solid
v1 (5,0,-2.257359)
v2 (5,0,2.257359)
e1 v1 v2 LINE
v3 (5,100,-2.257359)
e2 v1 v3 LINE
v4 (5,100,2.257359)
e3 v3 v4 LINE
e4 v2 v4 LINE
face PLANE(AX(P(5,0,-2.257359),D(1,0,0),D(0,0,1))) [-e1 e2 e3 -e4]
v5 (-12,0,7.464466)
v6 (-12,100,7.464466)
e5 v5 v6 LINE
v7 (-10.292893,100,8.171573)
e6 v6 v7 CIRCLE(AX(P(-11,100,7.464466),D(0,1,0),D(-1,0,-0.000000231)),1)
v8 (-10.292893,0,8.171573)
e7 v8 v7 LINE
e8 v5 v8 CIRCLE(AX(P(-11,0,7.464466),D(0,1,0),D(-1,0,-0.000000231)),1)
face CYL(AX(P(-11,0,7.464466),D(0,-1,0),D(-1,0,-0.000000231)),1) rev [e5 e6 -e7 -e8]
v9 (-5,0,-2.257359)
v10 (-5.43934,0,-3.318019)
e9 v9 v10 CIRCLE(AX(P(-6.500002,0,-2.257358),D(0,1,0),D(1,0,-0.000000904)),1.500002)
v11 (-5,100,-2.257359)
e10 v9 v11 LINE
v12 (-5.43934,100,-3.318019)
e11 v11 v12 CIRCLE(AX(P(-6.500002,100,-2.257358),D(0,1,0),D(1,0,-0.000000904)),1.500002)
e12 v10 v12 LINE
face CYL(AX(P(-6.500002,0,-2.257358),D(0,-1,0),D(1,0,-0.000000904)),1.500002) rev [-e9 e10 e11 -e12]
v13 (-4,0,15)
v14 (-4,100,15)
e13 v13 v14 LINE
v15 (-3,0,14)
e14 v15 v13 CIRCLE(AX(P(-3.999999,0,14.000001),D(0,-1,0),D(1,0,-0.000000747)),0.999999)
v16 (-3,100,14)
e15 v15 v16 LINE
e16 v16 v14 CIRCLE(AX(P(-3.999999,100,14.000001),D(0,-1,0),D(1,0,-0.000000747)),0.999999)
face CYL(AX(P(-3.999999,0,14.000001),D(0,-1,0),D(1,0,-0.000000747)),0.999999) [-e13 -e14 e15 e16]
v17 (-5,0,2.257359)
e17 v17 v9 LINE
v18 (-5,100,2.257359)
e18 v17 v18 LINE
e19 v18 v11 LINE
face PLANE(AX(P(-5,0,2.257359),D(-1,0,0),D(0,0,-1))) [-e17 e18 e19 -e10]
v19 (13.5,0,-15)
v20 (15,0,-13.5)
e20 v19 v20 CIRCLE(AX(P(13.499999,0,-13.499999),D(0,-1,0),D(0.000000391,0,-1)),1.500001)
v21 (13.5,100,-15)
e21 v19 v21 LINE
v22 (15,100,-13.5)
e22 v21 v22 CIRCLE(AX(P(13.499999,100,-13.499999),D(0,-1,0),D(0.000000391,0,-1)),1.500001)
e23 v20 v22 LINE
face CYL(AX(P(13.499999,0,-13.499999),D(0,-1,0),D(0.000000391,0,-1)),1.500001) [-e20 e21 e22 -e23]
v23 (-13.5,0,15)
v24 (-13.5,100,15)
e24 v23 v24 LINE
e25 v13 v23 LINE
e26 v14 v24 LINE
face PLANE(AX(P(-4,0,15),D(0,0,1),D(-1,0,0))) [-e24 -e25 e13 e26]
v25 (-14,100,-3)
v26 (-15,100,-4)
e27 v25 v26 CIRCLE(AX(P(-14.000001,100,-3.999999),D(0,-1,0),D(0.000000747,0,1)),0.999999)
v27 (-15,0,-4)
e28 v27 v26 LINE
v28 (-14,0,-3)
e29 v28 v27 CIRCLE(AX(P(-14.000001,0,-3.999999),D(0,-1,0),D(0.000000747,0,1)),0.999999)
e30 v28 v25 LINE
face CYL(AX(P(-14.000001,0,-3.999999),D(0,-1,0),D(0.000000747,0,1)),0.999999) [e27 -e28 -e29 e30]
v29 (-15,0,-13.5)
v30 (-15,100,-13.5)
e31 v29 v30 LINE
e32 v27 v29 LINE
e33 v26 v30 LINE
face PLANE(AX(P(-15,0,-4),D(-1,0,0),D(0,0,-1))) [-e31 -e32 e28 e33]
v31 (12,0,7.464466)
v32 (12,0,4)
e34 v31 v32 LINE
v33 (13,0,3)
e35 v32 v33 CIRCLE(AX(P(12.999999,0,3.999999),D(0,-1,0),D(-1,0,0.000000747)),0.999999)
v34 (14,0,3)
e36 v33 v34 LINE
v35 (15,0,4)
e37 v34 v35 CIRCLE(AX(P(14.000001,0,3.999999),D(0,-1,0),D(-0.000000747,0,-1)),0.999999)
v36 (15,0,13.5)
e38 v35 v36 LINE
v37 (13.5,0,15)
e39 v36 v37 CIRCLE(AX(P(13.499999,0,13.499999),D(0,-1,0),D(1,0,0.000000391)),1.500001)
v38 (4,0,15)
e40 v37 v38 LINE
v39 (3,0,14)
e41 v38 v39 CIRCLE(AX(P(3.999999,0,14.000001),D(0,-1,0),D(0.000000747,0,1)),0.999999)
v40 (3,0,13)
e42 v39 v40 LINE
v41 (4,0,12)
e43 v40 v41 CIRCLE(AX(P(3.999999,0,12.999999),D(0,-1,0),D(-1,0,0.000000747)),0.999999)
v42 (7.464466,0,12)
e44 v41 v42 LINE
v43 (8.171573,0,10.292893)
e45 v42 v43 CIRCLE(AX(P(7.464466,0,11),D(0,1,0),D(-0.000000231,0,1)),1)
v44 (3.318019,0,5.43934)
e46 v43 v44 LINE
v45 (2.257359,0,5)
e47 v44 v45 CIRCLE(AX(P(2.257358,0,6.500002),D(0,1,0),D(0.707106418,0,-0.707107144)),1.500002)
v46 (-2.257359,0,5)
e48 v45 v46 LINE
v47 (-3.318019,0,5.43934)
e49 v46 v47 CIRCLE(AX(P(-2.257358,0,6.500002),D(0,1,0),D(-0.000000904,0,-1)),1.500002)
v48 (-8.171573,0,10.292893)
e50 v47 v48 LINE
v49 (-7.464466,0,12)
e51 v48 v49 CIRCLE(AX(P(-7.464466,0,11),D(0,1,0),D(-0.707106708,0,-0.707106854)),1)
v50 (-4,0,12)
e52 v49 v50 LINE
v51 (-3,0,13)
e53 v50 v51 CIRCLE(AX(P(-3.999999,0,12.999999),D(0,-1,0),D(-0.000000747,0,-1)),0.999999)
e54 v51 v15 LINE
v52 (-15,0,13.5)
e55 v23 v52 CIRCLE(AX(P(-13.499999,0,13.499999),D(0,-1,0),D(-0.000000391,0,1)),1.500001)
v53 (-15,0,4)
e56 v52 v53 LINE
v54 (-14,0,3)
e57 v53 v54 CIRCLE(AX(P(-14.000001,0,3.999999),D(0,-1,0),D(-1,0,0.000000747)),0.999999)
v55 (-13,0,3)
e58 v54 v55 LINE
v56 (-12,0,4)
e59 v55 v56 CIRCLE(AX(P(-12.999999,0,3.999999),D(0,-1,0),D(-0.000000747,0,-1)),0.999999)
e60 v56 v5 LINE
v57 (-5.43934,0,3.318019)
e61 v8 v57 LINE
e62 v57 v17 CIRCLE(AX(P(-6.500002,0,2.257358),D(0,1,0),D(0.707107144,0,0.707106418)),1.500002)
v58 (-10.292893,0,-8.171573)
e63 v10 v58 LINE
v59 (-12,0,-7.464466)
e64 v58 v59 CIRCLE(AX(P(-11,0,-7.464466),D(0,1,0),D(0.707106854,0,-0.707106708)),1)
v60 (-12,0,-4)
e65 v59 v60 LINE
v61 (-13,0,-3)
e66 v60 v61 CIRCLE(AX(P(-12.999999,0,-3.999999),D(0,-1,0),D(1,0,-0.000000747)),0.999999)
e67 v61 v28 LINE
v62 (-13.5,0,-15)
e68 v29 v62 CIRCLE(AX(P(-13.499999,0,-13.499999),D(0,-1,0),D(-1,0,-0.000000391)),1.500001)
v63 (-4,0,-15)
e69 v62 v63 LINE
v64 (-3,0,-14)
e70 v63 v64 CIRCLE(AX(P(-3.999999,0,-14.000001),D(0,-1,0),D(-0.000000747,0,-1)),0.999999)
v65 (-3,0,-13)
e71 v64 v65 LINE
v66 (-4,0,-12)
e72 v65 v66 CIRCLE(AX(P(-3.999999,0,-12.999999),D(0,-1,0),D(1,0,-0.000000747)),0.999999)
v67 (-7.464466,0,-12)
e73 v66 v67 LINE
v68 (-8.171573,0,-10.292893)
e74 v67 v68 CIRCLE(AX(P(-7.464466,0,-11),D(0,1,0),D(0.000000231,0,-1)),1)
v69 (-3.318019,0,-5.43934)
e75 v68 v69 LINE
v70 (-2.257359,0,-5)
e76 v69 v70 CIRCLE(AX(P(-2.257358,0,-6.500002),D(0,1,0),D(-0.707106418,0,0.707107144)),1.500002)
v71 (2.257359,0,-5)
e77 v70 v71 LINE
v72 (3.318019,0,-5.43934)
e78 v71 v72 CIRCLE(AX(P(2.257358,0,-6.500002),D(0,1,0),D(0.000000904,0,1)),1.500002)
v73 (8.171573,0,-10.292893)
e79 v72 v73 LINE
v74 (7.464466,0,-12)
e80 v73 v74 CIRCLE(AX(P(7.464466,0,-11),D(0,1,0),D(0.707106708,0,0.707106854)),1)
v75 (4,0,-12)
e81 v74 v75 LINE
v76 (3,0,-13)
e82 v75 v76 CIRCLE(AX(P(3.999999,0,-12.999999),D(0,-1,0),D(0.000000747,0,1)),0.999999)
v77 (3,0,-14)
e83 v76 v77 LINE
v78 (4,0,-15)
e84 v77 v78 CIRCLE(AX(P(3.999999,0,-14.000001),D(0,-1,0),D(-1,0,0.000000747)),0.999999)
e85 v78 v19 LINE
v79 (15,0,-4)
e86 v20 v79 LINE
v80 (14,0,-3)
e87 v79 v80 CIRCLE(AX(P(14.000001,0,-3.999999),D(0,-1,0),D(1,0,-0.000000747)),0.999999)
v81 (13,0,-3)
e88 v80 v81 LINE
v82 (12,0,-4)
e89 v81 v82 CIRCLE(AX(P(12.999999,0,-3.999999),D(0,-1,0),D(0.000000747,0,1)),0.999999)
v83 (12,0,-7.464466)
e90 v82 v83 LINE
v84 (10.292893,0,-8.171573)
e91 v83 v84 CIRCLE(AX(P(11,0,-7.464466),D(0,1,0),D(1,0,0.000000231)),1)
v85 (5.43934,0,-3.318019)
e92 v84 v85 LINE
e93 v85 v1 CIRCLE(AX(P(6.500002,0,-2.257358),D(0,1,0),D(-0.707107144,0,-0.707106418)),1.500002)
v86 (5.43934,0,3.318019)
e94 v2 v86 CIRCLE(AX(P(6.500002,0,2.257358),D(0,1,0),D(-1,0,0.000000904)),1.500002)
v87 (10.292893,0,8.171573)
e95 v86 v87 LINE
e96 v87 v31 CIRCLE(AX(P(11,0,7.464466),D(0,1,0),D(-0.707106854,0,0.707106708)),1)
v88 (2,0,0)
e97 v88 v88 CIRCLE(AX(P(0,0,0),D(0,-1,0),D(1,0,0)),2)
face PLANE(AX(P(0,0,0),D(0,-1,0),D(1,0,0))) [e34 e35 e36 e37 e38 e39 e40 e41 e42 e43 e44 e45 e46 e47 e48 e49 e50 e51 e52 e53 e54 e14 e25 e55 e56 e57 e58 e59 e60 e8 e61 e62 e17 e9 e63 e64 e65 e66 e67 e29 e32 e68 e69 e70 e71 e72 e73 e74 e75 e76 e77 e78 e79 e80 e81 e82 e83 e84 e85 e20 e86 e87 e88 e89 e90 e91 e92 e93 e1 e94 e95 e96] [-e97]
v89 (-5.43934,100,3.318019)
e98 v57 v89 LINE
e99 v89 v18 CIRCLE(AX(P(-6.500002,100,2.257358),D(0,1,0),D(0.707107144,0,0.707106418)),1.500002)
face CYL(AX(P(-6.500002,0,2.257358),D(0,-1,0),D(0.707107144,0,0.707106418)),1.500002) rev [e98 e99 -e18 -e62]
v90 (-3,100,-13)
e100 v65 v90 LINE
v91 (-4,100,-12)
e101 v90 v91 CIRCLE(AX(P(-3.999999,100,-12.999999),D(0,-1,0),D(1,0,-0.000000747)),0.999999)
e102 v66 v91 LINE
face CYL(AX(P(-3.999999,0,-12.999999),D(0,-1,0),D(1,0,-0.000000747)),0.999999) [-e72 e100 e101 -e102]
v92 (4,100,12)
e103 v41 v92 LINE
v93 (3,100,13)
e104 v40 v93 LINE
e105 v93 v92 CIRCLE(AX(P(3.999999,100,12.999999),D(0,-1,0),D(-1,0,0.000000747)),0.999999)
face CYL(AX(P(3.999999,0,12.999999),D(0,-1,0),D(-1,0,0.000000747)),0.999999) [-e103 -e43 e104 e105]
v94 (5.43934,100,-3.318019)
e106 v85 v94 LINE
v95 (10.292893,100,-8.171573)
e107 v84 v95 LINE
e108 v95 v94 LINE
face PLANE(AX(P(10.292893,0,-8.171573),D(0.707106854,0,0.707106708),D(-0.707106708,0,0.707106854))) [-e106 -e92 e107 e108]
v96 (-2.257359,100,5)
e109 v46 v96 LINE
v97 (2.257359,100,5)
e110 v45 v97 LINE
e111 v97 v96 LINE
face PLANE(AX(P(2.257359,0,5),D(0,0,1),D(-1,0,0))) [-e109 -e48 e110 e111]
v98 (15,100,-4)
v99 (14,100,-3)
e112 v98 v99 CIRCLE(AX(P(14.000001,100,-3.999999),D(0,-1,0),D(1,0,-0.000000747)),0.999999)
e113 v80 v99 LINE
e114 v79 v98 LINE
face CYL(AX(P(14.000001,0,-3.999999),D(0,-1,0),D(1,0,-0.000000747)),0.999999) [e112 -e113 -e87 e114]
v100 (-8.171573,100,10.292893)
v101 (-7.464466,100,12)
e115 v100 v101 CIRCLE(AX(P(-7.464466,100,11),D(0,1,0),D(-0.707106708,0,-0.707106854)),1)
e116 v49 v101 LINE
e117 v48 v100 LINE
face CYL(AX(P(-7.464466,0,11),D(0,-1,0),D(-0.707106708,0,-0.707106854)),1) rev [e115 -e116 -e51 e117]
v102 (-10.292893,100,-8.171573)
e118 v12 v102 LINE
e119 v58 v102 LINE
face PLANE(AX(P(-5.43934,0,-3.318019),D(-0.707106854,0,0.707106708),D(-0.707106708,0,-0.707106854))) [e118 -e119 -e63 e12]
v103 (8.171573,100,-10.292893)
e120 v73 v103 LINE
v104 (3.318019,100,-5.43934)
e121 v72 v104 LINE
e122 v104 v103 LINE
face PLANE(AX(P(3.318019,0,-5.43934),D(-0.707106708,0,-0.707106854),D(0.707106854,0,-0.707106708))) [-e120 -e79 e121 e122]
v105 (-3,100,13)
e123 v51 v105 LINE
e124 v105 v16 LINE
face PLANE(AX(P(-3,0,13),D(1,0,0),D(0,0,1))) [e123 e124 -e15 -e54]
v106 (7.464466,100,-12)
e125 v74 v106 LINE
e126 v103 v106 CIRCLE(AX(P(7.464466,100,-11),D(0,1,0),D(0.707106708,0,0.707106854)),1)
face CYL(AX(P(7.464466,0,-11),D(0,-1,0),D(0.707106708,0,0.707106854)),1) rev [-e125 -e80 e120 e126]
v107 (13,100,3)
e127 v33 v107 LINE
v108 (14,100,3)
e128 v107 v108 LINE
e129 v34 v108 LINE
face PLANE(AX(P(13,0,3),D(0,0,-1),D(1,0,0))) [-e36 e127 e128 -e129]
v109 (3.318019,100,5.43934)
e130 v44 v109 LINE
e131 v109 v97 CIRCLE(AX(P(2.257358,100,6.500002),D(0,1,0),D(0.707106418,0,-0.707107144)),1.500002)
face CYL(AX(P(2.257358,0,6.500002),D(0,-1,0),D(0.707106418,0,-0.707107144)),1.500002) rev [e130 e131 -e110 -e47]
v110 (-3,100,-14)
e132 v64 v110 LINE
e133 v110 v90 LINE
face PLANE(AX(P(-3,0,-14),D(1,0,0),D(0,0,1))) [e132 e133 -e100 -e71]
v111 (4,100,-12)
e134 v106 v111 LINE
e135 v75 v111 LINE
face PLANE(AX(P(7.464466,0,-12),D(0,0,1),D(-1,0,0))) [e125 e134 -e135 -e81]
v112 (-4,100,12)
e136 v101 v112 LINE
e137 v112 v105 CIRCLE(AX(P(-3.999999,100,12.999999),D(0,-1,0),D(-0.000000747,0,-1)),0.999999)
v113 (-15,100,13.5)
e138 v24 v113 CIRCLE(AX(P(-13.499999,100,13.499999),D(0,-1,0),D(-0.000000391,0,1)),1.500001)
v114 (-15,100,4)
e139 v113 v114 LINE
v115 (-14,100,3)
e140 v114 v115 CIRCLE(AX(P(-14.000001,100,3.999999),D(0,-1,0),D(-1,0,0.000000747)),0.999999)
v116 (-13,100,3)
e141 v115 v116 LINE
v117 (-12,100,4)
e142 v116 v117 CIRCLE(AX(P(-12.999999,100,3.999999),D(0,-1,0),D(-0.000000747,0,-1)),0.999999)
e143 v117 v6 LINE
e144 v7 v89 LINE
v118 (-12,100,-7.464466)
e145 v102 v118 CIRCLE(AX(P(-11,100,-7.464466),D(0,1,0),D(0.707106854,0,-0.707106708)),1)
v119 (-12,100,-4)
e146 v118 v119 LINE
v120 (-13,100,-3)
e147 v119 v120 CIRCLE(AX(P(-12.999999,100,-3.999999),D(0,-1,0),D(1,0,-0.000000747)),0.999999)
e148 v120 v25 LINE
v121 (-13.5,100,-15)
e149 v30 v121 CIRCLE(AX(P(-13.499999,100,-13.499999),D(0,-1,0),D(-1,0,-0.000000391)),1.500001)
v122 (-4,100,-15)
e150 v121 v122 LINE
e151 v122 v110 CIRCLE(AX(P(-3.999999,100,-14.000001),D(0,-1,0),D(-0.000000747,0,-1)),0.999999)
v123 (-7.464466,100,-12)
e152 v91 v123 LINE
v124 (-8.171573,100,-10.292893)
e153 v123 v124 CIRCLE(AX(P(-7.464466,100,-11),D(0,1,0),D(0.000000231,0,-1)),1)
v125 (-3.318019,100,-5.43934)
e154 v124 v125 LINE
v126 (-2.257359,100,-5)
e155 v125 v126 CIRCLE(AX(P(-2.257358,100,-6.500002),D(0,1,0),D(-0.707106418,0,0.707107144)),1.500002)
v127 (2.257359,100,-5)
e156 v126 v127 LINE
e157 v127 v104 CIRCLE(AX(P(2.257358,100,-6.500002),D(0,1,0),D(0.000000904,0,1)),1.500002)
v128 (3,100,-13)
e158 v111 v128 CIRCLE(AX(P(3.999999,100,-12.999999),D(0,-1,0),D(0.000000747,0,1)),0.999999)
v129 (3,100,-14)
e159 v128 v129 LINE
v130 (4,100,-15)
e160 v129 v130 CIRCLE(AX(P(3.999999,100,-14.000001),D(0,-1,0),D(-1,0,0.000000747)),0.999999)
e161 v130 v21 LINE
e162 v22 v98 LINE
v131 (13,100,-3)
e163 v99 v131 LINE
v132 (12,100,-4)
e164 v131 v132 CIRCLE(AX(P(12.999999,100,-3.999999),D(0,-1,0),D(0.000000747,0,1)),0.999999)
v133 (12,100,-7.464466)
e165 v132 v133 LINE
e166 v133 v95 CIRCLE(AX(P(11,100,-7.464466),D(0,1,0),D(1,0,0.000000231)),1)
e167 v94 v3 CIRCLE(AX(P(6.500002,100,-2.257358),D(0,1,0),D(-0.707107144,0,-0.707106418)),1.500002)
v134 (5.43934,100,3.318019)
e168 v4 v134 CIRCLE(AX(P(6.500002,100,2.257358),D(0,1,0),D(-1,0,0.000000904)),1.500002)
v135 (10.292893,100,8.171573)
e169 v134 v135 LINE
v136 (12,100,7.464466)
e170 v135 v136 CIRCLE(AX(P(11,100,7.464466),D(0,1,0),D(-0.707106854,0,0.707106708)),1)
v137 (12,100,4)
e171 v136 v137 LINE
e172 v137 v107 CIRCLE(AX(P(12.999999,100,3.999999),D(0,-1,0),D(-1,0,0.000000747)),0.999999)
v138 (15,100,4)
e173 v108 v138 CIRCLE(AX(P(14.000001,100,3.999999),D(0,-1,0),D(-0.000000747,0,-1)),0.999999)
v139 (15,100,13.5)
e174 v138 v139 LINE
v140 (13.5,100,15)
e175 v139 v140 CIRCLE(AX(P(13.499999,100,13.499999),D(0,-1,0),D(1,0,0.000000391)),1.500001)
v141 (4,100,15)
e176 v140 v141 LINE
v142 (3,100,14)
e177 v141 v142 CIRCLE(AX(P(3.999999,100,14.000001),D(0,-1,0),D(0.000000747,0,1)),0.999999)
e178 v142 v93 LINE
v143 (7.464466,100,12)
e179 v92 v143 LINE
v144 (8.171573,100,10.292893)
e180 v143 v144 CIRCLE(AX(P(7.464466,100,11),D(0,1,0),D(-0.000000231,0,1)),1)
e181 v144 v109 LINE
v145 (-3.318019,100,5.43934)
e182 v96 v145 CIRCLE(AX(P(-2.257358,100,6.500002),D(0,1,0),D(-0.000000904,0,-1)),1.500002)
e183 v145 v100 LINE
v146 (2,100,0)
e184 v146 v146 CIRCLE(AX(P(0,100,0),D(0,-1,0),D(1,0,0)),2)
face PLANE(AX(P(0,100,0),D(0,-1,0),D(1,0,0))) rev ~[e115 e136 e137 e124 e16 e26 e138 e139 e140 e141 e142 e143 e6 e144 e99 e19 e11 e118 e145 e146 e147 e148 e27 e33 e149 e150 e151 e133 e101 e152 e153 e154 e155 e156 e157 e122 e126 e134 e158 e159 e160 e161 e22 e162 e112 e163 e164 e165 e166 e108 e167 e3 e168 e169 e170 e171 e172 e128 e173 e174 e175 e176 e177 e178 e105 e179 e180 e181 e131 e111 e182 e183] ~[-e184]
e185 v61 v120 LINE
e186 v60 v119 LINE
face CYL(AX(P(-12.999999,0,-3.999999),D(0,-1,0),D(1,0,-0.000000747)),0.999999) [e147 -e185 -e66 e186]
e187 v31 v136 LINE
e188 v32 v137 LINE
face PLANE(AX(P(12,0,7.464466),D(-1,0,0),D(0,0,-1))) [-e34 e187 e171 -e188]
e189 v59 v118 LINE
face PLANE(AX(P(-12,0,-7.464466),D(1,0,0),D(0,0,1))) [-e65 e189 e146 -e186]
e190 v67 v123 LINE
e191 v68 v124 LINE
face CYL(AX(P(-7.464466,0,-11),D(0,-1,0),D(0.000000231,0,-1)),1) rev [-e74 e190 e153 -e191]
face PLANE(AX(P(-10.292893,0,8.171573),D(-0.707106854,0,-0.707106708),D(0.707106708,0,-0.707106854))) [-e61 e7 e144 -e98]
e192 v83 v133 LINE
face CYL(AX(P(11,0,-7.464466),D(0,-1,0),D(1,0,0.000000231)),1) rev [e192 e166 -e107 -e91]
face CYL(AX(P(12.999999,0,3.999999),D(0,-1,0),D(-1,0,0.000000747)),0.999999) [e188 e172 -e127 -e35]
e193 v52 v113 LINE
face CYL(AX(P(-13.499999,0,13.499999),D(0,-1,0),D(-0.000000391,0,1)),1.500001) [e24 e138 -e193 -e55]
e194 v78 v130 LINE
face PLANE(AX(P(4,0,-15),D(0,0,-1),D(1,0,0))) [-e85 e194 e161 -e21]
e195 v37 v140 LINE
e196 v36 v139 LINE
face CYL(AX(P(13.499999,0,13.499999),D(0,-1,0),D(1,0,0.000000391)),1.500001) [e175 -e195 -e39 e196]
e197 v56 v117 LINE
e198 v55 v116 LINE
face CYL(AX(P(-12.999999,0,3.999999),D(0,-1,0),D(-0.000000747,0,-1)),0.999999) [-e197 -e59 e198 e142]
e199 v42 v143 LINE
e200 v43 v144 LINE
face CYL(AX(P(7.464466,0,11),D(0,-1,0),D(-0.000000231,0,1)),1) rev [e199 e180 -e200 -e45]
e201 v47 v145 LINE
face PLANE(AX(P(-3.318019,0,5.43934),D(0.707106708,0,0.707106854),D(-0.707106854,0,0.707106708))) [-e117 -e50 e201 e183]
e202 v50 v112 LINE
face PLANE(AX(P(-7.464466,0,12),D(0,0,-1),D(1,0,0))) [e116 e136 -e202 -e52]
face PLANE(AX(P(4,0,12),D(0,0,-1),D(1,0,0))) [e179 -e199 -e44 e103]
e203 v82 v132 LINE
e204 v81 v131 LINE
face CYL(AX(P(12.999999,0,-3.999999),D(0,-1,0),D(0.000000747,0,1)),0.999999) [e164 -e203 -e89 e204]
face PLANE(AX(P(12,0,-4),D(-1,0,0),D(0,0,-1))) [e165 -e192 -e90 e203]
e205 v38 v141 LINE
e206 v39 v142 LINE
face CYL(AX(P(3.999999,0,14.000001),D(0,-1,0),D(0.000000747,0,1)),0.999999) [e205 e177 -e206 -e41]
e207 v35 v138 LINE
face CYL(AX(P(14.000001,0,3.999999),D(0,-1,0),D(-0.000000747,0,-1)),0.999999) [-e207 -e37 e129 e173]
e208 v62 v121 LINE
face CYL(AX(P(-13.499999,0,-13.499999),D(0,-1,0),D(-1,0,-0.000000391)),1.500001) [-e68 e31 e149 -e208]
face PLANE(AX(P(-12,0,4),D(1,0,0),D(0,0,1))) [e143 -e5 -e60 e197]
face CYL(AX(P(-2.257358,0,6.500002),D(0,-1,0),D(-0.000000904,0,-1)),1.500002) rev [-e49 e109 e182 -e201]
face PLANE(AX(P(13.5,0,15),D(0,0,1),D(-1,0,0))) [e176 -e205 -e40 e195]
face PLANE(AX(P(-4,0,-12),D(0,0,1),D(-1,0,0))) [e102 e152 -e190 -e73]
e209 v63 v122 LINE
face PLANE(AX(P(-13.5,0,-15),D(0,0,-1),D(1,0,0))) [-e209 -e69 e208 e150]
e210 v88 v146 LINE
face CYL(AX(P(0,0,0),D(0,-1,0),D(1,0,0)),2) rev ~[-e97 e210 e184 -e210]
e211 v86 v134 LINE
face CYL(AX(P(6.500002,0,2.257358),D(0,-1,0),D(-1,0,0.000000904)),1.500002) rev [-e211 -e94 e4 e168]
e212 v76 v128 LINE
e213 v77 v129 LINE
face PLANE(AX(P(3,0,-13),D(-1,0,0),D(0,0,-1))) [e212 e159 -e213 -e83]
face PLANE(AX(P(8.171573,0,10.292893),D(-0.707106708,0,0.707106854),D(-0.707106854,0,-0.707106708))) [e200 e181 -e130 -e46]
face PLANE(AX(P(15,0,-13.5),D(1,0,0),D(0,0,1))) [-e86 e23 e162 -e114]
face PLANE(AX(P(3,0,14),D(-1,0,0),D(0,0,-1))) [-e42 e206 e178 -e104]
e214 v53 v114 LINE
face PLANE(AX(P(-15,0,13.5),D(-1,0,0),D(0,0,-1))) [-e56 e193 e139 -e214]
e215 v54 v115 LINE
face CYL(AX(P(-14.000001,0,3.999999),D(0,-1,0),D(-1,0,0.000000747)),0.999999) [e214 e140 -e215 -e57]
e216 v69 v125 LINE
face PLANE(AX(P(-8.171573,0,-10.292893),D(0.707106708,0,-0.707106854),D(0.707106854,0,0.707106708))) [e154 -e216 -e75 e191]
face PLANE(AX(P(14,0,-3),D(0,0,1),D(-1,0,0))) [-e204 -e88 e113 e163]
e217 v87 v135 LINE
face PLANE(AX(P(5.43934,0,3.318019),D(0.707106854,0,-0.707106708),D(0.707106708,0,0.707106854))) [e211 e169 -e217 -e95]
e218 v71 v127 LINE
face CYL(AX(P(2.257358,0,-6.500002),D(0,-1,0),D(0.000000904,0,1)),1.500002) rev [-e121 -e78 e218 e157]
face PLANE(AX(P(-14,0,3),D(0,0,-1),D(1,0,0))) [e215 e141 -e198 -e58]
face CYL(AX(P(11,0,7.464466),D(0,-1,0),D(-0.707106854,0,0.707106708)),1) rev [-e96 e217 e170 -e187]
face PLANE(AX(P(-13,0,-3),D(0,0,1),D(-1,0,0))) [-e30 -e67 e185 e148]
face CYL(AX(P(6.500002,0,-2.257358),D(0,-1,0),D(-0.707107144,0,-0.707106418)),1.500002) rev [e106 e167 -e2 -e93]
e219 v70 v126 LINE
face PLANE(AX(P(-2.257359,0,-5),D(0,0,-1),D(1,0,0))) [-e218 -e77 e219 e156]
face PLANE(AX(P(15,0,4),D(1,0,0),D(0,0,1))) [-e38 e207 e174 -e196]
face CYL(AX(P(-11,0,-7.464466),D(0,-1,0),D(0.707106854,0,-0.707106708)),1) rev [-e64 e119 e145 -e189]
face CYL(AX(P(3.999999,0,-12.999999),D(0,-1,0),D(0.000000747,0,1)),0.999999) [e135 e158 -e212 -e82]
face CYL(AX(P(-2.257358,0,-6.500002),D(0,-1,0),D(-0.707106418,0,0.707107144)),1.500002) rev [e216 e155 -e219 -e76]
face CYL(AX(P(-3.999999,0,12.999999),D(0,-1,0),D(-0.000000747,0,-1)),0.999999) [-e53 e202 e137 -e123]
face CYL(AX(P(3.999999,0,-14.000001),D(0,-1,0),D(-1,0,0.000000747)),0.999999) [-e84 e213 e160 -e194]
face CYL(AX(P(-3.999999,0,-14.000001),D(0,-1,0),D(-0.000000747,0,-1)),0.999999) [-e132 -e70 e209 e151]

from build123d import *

# Parameters (mm, degrees)
F0_R     = 2
F1_DEPTH = 100


with BuildPart() as f1:
    # F0 (on Front) → F1 (new body)
    with BuildSketch(Plane.XZ):
        with BuildLine():
            ThreePointArc((15, 13.5), (14.56066, 14.56066), (13.5, 15))
            Line((13.5, 15), (4, 15))
            ThreePointArc((4, 15), (3.292893, 14.707107), (3, 14))
            Line((3, 14), (3, 13))
            ThreePointArc((3, 13), (3.292893, 12.292893), (4, 12))
            Line((4, 12), (7.464466, 12))
            ThreePointArc((7.464466, 12), (8.388346, 11.382683), (8.171573, 10.292893))
            Line((8.171573, 10.292893), (3.318019, 5.43934))
            ThreePointArc((3.318019, 5.43934), (2.831384, 5.114181), (2.257359, 5))
            Line((2.257359, 5), (-2.257359, 5))
            ThreePointArc((-2.257359, 5), (-2.831384, 5.114181), (-3.318019, 5.43934))
            Line((-3.318019, 5.43934), (-8.171573, 10.292893))
            ThreePointArc((-8.171573, 10.292893), (-8.388346, 11.382683), (-7.464466, 12))
            Line((-7.464466, 12), (-4, 12))
            ThreePointArc((-4, 12), (-3.292893, 12.292893), (-3, 13))
            Line((-3, 13), (-3, 14))
            ThreePointArc((-3, 14), (-3.292893, 14.707107), (-4, 15))
            Line((-4, 15), (-13.5, 15))
            ThreePointArc((-13.5, 15), (-14.56066, 14.56066), (-15, 13.5))
            Line((-15, 13.5), (-15, 4))
            ThreePointArc((-15, 4), (-14.707107, 3.292893), (-14, 3))
            Line((-14, 3), (-13, 3))
            ThreePointArc((-13, 3), (-12.292893, 3.292893), (-12, 4))
            Line((-12, 4), (-12, 7.464466))
            ThreePointArc((-12, 7.464466), (-11.382683, 8.388346), (-10.292893, 8.171573))
            Line((-10.292893, 8.171573), (-5.43934, 3.318019))
            ThreePointArc((-5.43934, 3.318019), (-5.114181, 2.831384), (-5, 2.257359))
            Line((-5, 2.257359), (-5, -2.257359))
            ThreePointArc((-5, -2.257359), (-5.114181, -2.831384), (-5.43934, -3.318019))
            Line((-5.43934, -3.318019), (-10.292893, -8.171573))
            ThreePointArc((-10.292893, -8.171573), (-11.382683, -8.388346), (-12, -7.464466))
            Line((-12, -7.464466), (-12, -4))
            ThreePointArc((-12, -4), (-12.292893, -3.292893), (-13, -3))
            Line((-13, -3), (-14, -3))
            ThreePointArc((-14, -3), (-14.707107, -3.292893), (-15, -4))
            Line((-15, -4), (-15, -13.5))
            ThreePointArc((-15, -13.5), (-14.56066, -14.56066), (-13.5, -15))
            Line((-13.5, -15), (-4, -15))
            ThreePointArc((-4, -15), (-3.292893, -14.707107), (-3, -14))
            Line((-3, -14), (-3, -13))
            ThreePointArc((-3, -13), (-3.292893, -12.292893), (-4, -12))
            Line((-4, -12), (-7.464466, -12))
            ThreePointArc((-7.464466, -12), (-8.388346, -11.382683), (-8.171573, -10.292893))
            Line((-8.171573, -10.292893), (-3.318019, -5.43934))
            ThreePointArc((-3.318019, -5.43934), (-2.831384, -5.114181), (-2.257359, -5))
            Line((-2.257359, -5), (2.257359, -5))
            ThreePointArc((2.257359, -5), (2.831384, -5.114181), (3.318019, -5.43934))
            Line((3.318019, -5.43934), (8.171573, -10.292893))
            ThreePointArc((8.171573, -10.292893), (8.388346, -11.382683), (7.464466, -12))
            Line((7.464466, -12), (4, -12))
            ThreePointArc((4, -12), (3.292893, -12.292893), (3, -13))
            Line((3, -13), (3, -14))
            ThreePointArc((3, -14), (3.292893, -14.707107), (4, -15))
            Line((4, -15), (13.5, -15))
            ThreePointArc((13.5, -15), (14.56066, -14.56066), (15, -13.5))
            Line((15, -13.5), (15, -4))
            ThreePointArc((15, -4), (14.707107, -3.292893), (14, -3))
            Line((14, -3), (13, -3))
            ThreePointArc((13, -3), (12.292893, -3.292893), (12, -4))
            Line((12, -4), (12, -7.464466))
            ThreePointArc((12, -7.464466), (11.382683, -8.388346), (10.292893, -8.171573))
            Line((10.292893, -8.171573), (5.43934, -3.318019))
            ThreePointArc((5.43934, -3.318019), (5.114181, -2.831384), (5, -2.257359))
            Line((5, -2.257359), (5, 2.257359))
            ThreePointArc((5, 2.257359), (5.114181, 2.831384), (5.43934, 3.318019))
            Line((5.43934, 3.318019), (10.292893, 8.171573))
            ThreePointArc((10.292893, 8.171573), (11.382683, 8.388346), (12, 7.464466))
            Line((12, 7.464466), (12, 4))
            ThreePointArc((12, 4), (12.292893, 3.292893), (13, 3))
            Line((13, 3), (14, 3))
            ThreePointArc((14, 3), (14.707107, 3.292893), (15, 4))
            Line((15, 4), (15, 13.5))
        make_face()
        Circle(F0_R, mode=Mode.SUBTRACT)
    extrude(amount=-F1_DEPTH)


solid = f1.part
